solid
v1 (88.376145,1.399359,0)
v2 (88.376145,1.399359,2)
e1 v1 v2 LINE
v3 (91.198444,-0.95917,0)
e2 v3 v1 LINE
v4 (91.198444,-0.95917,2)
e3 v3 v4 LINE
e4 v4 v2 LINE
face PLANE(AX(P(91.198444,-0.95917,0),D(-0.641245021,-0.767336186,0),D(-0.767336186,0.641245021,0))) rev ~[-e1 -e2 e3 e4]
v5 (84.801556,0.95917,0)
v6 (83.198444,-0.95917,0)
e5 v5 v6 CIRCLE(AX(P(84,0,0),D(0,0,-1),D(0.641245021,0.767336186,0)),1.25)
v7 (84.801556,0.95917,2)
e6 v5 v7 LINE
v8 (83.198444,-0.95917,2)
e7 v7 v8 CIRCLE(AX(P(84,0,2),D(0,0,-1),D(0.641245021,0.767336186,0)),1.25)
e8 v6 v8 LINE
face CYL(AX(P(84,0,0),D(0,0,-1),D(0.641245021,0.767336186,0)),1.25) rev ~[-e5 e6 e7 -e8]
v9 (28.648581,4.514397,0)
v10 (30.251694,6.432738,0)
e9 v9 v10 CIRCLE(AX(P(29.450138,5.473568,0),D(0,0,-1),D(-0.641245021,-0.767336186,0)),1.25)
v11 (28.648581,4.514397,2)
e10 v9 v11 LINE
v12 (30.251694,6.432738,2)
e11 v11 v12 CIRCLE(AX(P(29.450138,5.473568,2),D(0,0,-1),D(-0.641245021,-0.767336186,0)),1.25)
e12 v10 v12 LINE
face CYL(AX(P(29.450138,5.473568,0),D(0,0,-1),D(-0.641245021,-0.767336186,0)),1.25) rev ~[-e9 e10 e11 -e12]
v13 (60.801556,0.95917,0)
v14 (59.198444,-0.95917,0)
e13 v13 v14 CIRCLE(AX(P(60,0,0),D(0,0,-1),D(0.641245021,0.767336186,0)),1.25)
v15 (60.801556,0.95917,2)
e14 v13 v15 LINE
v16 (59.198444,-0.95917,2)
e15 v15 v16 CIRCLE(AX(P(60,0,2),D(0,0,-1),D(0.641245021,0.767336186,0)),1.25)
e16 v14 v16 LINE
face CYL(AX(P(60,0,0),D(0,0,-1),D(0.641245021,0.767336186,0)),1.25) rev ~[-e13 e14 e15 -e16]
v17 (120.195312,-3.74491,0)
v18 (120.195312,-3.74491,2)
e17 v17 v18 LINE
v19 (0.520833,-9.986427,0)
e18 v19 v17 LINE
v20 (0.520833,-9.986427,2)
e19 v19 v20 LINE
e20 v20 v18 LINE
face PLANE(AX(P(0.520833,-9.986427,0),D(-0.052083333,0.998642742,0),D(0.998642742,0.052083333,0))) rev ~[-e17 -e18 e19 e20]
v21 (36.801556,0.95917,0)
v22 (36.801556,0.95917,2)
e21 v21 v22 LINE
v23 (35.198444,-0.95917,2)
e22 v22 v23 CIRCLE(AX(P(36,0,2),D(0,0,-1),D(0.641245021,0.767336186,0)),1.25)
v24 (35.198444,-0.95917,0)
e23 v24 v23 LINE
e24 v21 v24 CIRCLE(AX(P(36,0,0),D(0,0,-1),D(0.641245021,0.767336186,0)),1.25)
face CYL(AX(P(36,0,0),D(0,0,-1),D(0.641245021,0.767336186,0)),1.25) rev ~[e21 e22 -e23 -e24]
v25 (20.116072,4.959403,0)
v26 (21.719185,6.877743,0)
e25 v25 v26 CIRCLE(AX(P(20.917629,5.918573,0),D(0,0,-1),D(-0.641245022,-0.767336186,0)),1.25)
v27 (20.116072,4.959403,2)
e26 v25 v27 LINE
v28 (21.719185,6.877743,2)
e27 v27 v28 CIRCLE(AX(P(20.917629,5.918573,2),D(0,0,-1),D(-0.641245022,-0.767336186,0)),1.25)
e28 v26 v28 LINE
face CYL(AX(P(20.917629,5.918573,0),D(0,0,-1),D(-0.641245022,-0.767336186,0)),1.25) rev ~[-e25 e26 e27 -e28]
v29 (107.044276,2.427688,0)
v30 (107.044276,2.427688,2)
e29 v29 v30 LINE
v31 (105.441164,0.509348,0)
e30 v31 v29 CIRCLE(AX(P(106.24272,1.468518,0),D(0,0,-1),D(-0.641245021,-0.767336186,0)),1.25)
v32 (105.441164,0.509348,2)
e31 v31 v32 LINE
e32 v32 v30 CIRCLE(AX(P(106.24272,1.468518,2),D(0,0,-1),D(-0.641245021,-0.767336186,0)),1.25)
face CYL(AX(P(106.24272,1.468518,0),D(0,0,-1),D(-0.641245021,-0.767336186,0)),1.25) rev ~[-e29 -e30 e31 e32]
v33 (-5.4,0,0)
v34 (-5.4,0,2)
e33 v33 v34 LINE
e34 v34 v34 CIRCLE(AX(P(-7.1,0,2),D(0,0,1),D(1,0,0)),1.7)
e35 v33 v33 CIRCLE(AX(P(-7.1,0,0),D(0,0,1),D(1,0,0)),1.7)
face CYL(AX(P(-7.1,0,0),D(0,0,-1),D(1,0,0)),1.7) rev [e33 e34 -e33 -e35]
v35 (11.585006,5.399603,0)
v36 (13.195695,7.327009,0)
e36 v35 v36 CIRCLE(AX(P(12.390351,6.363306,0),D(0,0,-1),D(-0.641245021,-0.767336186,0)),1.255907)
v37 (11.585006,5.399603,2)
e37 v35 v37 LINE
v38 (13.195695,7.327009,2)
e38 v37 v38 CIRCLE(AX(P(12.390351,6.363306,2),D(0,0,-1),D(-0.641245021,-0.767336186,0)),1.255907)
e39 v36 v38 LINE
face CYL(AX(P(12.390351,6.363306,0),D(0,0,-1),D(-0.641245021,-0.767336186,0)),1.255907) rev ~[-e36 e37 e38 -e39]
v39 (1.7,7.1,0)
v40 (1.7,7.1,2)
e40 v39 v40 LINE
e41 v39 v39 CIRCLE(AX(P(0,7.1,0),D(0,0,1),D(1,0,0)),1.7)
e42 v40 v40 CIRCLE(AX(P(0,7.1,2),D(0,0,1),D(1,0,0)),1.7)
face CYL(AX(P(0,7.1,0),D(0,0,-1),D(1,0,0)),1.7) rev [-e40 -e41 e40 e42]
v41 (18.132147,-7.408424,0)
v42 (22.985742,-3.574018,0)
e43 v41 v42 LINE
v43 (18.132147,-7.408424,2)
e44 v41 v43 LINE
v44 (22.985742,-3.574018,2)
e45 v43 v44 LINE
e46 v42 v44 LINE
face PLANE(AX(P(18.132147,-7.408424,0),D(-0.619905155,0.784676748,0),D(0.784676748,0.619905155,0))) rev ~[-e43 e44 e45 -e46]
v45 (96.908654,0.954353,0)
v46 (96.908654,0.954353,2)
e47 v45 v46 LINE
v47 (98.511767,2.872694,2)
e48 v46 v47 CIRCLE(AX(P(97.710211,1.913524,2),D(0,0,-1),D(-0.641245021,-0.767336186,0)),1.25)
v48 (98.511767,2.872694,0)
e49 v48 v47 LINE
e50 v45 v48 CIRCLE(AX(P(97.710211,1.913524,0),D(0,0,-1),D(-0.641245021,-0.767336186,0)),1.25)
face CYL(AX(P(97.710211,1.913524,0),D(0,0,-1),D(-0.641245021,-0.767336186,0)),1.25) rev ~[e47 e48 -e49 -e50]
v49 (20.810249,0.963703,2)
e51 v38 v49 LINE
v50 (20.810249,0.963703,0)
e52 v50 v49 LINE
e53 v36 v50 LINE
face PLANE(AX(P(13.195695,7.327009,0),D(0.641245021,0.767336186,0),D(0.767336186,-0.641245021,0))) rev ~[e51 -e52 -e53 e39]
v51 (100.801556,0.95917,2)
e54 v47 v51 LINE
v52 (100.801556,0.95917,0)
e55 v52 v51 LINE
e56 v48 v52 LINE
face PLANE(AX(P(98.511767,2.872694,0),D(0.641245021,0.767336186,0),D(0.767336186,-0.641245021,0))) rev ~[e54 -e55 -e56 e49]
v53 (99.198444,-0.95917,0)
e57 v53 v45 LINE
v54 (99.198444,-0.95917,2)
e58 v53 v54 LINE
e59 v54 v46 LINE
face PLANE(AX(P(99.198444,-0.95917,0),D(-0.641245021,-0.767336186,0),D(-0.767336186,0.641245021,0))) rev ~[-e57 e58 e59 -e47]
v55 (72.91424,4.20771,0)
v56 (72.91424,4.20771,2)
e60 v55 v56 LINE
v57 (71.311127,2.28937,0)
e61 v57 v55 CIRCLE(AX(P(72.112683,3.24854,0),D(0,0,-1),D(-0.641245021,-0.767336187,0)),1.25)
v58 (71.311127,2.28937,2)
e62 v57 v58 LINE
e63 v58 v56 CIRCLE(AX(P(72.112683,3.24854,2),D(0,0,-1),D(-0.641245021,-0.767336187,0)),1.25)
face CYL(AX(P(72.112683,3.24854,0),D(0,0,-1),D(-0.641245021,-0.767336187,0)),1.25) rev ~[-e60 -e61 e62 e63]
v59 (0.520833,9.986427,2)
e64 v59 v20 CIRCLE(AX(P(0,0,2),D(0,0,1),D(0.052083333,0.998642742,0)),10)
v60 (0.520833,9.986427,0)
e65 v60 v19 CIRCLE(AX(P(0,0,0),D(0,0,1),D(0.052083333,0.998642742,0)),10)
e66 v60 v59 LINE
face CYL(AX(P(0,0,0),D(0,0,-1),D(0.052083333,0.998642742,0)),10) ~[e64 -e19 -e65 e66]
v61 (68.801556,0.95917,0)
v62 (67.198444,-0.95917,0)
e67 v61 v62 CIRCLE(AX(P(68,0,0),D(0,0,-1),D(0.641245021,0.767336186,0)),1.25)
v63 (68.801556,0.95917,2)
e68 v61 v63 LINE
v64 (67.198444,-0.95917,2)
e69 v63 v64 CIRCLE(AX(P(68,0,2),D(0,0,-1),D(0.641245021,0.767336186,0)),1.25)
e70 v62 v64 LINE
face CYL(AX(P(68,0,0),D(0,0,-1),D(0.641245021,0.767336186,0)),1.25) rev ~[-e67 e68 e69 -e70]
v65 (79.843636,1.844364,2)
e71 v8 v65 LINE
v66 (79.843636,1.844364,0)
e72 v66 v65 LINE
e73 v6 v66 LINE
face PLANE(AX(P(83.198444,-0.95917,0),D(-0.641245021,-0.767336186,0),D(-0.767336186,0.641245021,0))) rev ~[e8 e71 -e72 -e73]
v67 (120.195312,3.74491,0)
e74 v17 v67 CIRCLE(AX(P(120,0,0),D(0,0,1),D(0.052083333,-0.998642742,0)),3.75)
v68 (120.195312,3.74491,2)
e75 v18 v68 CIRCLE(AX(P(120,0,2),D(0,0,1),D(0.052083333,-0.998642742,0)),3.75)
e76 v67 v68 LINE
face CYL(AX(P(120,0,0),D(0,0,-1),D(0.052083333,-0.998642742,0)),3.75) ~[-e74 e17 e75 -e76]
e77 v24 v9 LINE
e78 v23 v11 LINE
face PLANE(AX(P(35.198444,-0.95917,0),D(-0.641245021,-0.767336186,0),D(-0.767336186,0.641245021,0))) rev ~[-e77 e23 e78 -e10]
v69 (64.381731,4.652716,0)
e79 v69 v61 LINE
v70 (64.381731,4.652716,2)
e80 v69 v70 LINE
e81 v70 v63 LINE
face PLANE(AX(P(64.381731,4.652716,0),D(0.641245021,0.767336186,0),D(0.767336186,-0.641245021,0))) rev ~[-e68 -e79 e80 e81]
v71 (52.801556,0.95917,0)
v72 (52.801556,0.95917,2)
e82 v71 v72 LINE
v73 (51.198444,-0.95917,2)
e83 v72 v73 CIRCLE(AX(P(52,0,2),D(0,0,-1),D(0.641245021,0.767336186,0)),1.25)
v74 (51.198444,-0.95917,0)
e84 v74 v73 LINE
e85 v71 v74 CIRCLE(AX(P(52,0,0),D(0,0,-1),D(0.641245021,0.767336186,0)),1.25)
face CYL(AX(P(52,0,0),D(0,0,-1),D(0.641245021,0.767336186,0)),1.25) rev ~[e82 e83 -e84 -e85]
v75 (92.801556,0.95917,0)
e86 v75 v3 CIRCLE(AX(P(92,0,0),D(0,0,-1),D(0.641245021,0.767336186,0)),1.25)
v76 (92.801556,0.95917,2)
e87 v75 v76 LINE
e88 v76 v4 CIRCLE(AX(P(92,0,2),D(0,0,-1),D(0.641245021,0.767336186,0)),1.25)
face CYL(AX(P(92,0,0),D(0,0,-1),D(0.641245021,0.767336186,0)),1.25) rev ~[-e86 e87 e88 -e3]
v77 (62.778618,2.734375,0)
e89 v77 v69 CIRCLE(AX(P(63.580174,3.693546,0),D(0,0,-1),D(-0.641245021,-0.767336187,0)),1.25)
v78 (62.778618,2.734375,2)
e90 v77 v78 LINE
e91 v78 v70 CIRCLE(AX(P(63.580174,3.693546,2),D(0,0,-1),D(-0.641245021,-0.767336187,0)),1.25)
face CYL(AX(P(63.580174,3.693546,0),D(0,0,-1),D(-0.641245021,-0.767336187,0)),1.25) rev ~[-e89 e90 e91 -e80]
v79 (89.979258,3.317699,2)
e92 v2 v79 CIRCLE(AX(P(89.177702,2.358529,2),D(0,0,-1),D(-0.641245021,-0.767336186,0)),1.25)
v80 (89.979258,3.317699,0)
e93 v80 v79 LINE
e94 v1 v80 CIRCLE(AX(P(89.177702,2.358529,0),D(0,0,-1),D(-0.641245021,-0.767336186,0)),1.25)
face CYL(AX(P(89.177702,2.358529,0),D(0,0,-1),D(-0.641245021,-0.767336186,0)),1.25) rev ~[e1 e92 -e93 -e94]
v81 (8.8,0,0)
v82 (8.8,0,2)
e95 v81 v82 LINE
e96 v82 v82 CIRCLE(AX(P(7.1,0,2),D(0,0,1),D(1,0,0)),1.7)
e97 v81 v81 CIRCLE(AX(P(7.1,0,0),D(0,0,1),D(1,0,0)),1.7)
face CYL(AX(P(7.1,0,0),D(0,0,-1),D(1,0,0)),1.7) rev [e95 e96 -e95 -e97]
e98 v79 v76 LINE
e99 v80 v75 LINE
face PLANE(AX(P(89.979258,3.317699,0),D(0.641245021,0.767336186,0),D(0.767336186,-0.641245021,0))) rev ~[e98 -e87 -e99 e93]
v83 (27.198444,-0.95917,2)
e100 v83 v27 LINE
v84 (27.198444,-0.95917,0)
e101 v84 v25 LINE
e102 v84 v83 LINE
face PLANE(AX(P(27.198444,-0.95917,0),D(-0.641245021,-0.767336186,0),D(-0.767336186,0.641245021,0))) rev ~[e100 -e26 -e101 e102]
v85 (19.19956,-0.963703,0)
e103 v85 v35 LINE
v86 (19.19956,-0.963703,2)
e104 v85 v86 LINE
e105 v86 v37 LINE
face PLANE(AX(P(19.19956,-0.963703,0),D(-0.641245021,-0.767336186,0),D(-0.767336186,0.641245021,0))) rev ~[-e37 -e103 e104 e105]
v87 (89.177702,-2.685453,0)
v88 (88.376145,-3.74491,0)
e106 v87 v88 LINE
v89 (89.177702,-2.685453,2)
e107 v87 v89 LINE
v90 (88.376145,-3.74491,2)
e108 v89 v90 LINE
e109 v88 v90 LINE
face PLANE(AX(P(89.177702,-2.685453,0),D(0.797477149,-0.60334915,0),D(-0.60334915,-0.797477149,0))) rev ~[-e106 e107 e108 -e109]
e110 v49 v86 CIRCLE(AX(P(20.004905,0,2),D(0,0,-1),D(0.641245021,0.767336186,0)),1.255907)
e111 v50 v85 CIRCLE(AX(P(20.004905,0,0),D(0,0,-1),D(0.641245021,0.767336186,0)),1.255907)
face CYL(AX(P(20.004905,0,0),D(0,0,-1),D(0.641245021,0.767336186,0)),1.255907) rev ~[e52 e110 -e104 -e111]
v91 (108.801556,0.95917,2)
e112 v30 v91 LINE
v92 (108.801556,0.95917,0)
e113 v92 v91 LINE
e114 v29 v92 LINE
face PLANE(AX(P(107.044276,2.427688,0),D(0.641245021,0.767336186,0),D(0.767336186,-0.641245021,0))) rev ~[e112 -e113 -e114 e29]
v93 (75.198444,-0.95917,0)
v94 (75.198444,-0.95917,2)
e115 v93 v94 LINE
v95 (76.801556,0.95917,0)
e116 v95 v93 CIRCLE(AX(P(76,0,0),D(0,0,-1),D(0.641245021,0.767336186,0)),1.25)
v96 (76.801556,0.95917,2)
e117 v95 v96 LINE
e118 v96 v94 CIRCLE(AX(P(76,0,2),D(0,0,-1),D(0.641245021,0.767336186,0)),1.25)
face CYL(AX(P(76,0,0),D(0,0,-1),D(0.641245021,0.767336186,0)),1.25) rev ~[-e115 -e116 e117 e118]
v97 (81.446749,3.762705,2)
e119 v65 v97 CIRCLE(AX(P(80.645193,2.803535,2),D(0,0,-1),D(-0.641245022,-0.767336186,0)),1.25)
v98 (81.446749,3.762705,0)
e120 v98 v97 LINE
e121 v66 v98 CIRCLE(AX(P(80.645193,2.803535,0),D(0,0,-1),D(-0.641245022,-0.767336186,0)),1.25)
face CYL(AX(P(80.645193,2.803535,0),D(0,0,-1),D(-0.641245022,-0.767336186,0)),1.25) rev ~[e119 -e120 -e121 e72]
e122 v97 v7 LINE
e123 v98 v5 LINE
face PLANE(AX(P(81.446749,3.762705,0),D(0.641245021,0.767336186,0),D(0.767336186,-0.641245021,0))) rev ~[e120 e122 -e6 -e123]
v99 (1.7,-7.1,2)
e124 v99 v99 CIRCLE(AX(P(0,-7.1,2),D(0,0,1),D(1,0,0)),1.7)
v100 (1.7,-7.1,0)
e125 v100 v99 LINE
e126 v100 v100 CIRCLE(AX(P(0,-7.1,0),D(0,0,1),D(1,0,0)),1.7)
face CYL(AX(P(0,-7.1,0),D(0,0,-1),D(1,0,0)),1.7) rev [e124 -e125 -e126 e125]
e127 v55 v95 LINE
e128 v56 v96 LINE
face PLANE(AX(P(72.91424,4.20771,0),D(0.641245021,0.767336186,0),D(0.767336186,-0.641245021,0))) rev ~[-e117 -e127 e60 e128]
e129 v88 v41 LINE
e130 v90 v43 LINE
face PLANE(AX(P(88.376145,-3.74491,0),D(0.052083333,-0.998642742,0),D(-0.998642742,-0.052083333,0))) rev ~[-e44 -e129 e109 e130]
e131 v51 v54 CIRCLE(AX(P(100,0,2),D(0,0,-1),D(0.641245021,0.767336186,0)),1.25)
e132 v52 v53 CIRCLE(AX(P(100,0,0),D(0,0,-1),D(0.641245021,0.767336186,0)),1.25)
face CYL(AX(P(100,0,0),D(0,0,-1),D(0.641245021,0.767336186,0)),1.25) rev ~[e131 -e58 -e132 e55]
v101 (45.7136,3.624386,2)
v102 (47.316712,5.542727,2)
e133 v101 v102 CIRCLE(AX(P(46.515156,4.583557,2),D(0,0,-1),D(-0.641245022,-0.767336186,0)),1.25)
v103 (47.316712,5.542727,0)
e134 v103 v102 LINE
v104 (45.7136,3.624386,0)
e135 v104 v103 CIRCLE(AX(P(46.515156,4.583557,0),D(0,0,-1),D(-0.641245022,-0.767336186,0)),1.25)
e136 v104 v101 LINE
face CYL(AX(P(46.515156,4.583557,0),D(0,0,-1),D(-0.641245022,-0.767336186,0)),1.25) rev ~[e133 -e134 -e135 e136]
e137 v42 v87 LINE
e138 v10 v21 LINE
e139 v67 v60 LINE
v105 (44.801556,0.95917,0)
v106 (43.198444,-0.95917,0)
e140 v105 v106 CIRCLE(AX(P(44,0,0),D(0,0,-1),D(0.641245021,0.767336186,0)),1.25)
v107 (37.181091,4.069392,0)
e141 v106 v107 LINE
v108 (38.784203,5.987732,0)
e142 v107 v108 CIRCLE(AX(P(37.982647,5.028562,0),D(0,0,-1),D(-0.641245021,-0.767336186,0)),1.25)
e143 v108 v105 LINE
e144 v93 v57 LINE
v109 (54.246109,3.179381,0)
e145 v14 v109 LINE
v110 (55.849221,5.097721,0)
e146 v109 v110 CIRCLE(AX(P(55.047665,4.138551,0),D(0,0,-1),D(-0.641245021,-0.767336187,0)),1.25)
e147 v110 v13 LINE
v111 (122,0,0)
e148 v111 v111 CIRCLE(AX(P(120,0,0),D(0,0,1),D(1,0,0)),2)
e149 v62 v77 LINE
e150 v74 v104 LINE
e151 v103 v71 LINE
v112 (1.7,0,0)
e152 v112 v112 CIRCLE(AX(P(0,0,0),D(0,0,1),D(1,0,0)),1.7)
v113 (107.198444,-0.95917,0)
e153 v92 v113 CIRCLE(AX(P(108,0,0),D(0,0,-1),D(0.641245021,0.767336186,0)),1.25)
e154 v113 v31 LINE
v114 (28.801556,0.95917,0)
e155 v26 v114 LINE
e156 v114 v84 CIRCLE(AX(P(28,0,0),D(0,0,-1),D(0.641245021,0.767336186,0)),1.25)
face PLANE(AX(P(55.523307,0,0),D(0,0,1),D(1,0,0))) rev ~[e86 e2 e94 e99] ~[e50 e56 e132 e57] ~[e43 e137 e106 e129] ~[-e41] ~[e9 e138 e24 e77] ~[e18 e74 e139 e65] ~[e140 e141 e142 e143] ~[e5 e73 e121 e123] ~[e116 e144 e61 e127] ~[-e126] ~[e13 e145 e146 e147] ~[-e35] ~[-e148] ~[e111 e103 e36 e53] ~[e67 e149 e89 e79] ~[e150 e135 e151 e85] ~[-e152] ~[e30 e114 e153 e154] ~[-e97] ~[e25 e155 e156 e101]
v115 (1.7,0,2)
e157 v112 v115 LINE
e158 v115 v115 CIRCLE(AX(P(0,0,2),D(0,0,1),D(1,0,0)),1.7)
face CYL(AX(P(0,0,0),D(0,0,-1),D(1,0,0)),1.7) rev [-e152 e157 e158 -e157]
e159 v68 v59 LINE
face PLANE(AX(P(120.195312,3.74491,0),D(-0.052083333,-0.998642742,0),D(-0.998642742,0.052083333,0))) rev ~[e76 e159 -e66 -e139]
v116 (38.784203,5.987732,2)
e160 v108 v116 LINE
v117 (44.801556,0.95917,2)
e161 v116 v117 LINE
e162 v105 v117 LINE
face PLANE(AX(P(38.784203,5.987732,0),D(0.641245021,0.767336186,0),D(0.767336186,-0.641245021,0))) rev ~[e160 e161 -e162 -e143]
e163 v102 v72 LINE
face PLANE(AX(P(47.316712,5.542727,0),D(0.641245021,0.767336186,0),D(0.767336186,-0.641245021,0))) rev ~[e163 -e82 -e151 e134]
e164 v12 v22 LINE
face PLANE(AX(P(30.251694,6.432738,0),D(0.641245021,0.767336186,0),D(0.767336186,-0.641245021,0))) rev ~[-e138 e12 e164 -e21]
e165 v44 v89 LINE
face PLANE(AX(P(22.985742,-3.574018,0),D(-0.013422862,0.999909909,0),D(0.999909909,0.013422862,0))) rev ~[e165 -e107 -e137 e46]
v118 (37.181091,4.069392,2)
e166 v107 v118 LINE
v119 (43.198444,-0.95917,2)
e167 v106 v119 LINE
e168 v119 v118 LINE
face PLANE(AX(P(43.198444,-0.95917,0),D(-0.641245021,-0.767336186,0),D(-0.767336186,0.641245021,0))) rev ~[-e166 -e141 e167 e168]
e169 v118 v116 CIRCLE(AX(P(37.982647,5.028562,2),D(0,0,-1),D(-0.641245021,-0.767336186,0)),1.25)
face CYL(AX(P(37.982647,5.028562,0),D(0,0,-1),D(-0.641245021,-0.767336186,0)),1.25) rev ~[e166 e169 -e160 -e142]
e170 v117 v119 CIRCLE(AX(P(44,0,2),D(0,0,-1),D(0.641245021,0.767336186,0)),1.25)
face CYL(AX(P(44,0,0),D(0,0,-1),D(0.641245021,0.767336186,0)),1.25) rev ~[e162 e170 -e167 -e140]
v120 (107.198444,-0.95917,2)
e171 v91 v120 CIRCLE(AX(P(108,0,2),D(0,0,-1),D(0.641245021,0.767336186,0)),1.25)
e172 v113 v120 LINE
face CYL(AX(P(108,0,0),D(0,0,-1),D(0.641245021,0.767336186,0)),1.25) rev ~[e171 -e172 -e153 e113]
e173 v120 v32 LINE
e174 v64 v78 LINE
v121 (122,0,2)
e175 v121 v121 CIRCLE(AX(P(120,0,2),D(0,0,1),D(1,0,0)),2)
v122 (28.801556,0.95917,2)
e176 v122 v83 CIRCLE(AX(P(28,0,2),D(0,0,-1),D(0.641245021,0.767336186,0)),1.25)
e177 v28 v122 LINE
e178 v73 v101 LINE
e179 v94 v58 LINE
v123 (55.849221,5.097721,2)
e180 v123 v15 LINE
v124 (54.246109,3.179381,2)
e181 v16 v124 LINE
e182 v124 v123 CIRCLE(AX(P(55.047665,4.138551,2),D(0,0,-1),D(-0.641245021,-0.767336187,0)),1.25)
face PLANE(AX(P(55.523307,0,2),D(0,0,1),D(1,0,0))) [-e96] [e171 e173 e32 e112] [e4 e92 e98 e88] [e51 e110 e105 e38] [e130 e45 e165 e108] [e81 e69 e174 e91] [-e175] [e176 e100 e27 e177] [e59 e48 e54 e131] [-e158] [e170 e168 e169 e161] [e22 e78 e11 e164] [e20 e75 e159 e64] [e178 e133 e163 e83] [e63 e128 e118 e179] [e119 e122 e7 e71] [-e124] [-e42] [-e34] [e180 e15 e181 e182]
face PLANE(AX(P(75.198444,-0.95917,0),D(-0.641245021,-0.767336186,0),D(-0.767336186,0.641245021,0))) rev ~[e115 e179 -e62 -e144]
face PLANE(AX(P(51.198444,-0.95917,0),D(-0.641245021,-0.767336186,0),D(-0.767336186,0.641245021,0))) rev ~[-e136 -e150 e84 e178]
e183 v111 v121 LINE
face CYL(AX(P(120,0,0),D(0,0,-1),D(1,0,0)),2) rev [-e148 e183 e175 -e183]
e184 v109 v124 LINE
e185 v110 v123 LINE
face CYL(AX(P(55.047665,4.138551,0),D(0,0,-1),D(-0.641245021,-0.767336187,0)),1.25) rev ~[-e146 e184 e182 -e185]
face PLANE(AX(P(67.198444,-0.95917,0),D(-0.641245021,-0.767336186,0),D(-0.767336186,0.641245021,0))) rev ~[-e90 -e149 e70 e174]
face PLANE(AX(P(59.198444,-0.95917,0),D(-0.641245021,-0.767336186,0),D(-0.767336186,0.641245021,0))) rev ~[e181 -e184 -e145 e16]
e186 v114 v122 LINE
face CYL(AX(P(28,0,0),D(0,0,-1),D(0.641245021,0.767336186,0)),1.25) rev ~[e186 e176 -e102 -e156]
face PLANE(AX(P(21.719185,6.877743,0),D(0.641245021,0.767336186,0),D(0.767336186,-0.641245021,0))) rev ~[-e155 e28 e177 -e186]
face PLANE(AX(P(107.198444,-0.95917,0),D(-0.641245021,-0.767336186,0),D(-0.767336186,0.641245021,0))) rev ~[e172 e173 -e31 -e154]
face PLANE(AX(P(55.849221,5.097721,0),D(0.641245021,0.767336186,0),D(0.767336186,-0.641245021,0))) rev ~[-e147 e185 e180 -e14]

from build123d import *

# Parameters (mm, degrees)
SKETCH_2_R      = 1.7
SKETCH_2_R_2    = 2
EXTRUDE_1_DEPTH = 2


with BuildPart() as part:
    # 草图2 → 凸台-拉伸1 (new body)
    with BuildSketch(Plane.XY):
        with BuildLine():
            Line((120.1953125, 3.744910283), (0.520833333, 9.986427421))
            ThreePointArc((0.520833333, 9.986427421), (-10, 0), (0.520833333, -9.986427421))
            Line((0.520833333, -9.986427421), (120.1953125, -3.744910283))
            ThreePointArc((120.1953125, -3.744910283), (123.75, 0), (120.1953125, 3.744910283))
        make_face()
        with Locations((0, 7.1)):
            Circle(SKETCH_2_R, mode=Mode.SUBTRACT)
        Circle(SKETCH_2_R, mode=Mode.SUBTRACT)
        with Locations((7.1, 0)):
            Circle(SKETCH_2_R, mode=Mode.SUBTRACT)
        with Locations((-7.1, 0)):
            Circle(SKETCH_2_R, mode=Mode.SUBTRACT)
        with Locations((0, -7.1)):
            Circle(SKETCH_2_R, mode=Mode.SUBTRACT)
        with Locations((120, 0)):
            Circle(SKETCH_2_R_2, mode=Mode.SUBTRACT)
        with BuildLine():
            Line((19.199560495, -0.96370295), (11.58500645, 5.399602936))
            ThreePointArc((11.58500645, 5.399602936), (11.426647663, 7.168650049), (13.195694776, 7.327008836))
            Line((13.195694776, 7.327008836), (20.810248822, 0.96370295))
            ThreePointArc((20.810248822, 0.96370295), (20.968607609, -0.805344163), (19.199560495, -0.96370295))
        make_face(mode=Mode.SUBTRACT)
        with BuildLine():
            Line((27.198443723, -0.959170233), (20.116072333, 4.959402974))
            ThreePointArc((20.116072333, 4.959402974), (19.958458377, 6.720129483), (21.719184886, 6.87774344))
            Line((21.719184886, 6.87774344), (28.801556277, 0.959170233))
            ThreePointArc((28.801556277, 0.959170233), (28.959170233, -0.801556277), (27.198443723, -0.959170233))
        make_face(mode=Mode.SUBTRACT)
        with BuildLine():
            Line((35.198443723, -0.959170233), (28.64858146, 4.51439747))
            ThreePointArc((28.64858146, 4.51439747), (28.490967504, 6.275123979), (30.251694013, 6.432737935))
            Line((30.251694013, 6.432737935), (36.801556277, 0.959170233))
            ThreePointArc((36.801556277, 0.959170233), (36.959170233, -0.801556277), (35.198443723, -0.959170233))
        make_face(mode=Mode.SUBTRACT)
        with BuildLine():
            Line((43.198443723, -0.959170233), (37.181090587, 4.069391965))
            ThreePointArc((37.181090587, 4.069391965), (37.023476631, 5.830118475), (38.784203141, 5.987732431))
            Line((38.784203141, 5.987732431), (44.801556277, 0.959170233))
            ThreePointArc((44.801556277, 0.959170233), (44.959170233, -0.801556277), (43.198443723, -0.959170233))
        make_face(mode=Mode.SUBTRACT)
        with BuildLine():
            Line((51.198443723, -0.959170233), (45.713599714, 3.624386461))
            ThreePointArc((45.713599714, 3.624386461), (45.555985758, 5.38511297), (47.316712268, 5.542726927))
            Line((47.316712268, 5.542726927), (52.801556277, 0.959170233))
            ThreePointArc((52.801556277, 0.959170233), (52.959170233, -0.801556277), (51.198443723, -0.959170233))
        make_face(mode=Mode.SUBTRACT)
        with BuildLine():
            Line((59.198443723, -0.959170233), (54.246108842, 3.179380957))
            ThreePointArc((54.246108842, 3.179380957), (54.088494885, 4.940107466), (55.849221395, 5.097721422))
            Line((55.849221395, 5.097721422), (60.801556277, 0.959170233))
            ThreePointArc((60.801556277, 0.959170233), (60.959170233, -0.801556277), (59.198443723, -0.959170233))
        make_face(mode=Mode.SUBTRACT)
        with BuildLine():
            Line((67.198443723, -0.959170233), (62.778617969, 2.734375453))
            ThreePointArc((62.778617969, 2.734375453), (62.621004012, 4.495101962), (64.381730522, 4.652715918))
            Line((64.381730522, 4.652715918), (68.801556277, 0.959170233))
            ThreePointArc((68.801556277, 0.959170233), (68.959170233, -0.801556277), (67.198443723, -0.959170233))
        make_face(mode=Mode.SUBTRACT)
        with BuildLine():
            Line((75.198443723, -0.959170233), (71.311127096, 2.289369948))
            ThreePointArc((71.311127096, 2.289369948), (71.153513139, 4.050096458), (72.914239649, 4.207710414))
            Line((72.914239649, 4.207710414), (76.801556277, 0.959170233))
            ThreePointArc((76.801556277, 0.959170233), (76.959170233, -0.801556277), (75.198443723, -0.959170233))
        make_face(mode=Mode.SUBTRACT)
        with BuildLine():
            Line((83.198443723, -0.959170233), (79.843636223, 1.844364444))
            ThreePointArc((79.843636223, 1.844364444), (79.686022267, 3.605090953), (81.446748776, 3.76270491))
            Line((81.446748776, 3.76270491), (84.801556277, 0.959170233))
            ThreePointArc((84.801556277, 0.959170233), (84.959170233, -0.801556277), (83.198443723, -0.959170233))
        make_face(mode=Mode.SUBTRACT)
        with BuildLine():
            Line((91.198443723, -0.959170233), (88.37614535, 1.39935894))
            ThreePointArc((88.37614535, 1.39935894), (88.218531394, 3.160085449), (89.979257903, 3.317699405))
            Line((89.979257903, 3.317699405), (92.801556277, 0.959170233))
            ThreePointArc((92.801556277, 0.959170233), (92.959170233, -0.801556277), (91.198443723, -0.959170233))
        make_face(mode=Mode.SUBTRACT)
        with BuildLine():
            Line((99.198443723, -0.959170233), (96.908654477, 0.954353436))
            ThreePointArc((96.908654477, 0.954353436), (96.751040521, 2.715079945), (98.51176703, 2.872693901))
            Line((98.51176703, 2.872693901), (100.801556277, 0.959170233))
            ThreePointArc((100.801556277, 0.959170233), (100.959170233, -0.801556277), (99.198443723, -0.959170233))
        make_face(mode=Mode.SUBTRACT)
        with BuildLine():
            Line((107.198443723, -0.959170233), (105.441163604, 0.509347931))
            ThreePointArc((105.441163604, 0.509347931), (105.283549648, 2.270074441), (107.044276157, 2.427688397))
            Line((107.044276157, 2.427688397), (108.801556277, 0.959170233))
            ThreePointArc((108.801556277, 0.959170233), (108.959170233, -0.801556277), (107.198443723, -0.959170233))
        make_face(mode=Mode.SUBTRACT)
        Polygon((22.985742471, -3.574018318), (89.177701626, -2.685452731), (88.37614535, -3.744910283), (18.132146509, -7.408424222), align=None, mode=Mode.SUBTRACT)
    extrude(amount=EXTRUDE_1_DEPTH)


solid = part.part
